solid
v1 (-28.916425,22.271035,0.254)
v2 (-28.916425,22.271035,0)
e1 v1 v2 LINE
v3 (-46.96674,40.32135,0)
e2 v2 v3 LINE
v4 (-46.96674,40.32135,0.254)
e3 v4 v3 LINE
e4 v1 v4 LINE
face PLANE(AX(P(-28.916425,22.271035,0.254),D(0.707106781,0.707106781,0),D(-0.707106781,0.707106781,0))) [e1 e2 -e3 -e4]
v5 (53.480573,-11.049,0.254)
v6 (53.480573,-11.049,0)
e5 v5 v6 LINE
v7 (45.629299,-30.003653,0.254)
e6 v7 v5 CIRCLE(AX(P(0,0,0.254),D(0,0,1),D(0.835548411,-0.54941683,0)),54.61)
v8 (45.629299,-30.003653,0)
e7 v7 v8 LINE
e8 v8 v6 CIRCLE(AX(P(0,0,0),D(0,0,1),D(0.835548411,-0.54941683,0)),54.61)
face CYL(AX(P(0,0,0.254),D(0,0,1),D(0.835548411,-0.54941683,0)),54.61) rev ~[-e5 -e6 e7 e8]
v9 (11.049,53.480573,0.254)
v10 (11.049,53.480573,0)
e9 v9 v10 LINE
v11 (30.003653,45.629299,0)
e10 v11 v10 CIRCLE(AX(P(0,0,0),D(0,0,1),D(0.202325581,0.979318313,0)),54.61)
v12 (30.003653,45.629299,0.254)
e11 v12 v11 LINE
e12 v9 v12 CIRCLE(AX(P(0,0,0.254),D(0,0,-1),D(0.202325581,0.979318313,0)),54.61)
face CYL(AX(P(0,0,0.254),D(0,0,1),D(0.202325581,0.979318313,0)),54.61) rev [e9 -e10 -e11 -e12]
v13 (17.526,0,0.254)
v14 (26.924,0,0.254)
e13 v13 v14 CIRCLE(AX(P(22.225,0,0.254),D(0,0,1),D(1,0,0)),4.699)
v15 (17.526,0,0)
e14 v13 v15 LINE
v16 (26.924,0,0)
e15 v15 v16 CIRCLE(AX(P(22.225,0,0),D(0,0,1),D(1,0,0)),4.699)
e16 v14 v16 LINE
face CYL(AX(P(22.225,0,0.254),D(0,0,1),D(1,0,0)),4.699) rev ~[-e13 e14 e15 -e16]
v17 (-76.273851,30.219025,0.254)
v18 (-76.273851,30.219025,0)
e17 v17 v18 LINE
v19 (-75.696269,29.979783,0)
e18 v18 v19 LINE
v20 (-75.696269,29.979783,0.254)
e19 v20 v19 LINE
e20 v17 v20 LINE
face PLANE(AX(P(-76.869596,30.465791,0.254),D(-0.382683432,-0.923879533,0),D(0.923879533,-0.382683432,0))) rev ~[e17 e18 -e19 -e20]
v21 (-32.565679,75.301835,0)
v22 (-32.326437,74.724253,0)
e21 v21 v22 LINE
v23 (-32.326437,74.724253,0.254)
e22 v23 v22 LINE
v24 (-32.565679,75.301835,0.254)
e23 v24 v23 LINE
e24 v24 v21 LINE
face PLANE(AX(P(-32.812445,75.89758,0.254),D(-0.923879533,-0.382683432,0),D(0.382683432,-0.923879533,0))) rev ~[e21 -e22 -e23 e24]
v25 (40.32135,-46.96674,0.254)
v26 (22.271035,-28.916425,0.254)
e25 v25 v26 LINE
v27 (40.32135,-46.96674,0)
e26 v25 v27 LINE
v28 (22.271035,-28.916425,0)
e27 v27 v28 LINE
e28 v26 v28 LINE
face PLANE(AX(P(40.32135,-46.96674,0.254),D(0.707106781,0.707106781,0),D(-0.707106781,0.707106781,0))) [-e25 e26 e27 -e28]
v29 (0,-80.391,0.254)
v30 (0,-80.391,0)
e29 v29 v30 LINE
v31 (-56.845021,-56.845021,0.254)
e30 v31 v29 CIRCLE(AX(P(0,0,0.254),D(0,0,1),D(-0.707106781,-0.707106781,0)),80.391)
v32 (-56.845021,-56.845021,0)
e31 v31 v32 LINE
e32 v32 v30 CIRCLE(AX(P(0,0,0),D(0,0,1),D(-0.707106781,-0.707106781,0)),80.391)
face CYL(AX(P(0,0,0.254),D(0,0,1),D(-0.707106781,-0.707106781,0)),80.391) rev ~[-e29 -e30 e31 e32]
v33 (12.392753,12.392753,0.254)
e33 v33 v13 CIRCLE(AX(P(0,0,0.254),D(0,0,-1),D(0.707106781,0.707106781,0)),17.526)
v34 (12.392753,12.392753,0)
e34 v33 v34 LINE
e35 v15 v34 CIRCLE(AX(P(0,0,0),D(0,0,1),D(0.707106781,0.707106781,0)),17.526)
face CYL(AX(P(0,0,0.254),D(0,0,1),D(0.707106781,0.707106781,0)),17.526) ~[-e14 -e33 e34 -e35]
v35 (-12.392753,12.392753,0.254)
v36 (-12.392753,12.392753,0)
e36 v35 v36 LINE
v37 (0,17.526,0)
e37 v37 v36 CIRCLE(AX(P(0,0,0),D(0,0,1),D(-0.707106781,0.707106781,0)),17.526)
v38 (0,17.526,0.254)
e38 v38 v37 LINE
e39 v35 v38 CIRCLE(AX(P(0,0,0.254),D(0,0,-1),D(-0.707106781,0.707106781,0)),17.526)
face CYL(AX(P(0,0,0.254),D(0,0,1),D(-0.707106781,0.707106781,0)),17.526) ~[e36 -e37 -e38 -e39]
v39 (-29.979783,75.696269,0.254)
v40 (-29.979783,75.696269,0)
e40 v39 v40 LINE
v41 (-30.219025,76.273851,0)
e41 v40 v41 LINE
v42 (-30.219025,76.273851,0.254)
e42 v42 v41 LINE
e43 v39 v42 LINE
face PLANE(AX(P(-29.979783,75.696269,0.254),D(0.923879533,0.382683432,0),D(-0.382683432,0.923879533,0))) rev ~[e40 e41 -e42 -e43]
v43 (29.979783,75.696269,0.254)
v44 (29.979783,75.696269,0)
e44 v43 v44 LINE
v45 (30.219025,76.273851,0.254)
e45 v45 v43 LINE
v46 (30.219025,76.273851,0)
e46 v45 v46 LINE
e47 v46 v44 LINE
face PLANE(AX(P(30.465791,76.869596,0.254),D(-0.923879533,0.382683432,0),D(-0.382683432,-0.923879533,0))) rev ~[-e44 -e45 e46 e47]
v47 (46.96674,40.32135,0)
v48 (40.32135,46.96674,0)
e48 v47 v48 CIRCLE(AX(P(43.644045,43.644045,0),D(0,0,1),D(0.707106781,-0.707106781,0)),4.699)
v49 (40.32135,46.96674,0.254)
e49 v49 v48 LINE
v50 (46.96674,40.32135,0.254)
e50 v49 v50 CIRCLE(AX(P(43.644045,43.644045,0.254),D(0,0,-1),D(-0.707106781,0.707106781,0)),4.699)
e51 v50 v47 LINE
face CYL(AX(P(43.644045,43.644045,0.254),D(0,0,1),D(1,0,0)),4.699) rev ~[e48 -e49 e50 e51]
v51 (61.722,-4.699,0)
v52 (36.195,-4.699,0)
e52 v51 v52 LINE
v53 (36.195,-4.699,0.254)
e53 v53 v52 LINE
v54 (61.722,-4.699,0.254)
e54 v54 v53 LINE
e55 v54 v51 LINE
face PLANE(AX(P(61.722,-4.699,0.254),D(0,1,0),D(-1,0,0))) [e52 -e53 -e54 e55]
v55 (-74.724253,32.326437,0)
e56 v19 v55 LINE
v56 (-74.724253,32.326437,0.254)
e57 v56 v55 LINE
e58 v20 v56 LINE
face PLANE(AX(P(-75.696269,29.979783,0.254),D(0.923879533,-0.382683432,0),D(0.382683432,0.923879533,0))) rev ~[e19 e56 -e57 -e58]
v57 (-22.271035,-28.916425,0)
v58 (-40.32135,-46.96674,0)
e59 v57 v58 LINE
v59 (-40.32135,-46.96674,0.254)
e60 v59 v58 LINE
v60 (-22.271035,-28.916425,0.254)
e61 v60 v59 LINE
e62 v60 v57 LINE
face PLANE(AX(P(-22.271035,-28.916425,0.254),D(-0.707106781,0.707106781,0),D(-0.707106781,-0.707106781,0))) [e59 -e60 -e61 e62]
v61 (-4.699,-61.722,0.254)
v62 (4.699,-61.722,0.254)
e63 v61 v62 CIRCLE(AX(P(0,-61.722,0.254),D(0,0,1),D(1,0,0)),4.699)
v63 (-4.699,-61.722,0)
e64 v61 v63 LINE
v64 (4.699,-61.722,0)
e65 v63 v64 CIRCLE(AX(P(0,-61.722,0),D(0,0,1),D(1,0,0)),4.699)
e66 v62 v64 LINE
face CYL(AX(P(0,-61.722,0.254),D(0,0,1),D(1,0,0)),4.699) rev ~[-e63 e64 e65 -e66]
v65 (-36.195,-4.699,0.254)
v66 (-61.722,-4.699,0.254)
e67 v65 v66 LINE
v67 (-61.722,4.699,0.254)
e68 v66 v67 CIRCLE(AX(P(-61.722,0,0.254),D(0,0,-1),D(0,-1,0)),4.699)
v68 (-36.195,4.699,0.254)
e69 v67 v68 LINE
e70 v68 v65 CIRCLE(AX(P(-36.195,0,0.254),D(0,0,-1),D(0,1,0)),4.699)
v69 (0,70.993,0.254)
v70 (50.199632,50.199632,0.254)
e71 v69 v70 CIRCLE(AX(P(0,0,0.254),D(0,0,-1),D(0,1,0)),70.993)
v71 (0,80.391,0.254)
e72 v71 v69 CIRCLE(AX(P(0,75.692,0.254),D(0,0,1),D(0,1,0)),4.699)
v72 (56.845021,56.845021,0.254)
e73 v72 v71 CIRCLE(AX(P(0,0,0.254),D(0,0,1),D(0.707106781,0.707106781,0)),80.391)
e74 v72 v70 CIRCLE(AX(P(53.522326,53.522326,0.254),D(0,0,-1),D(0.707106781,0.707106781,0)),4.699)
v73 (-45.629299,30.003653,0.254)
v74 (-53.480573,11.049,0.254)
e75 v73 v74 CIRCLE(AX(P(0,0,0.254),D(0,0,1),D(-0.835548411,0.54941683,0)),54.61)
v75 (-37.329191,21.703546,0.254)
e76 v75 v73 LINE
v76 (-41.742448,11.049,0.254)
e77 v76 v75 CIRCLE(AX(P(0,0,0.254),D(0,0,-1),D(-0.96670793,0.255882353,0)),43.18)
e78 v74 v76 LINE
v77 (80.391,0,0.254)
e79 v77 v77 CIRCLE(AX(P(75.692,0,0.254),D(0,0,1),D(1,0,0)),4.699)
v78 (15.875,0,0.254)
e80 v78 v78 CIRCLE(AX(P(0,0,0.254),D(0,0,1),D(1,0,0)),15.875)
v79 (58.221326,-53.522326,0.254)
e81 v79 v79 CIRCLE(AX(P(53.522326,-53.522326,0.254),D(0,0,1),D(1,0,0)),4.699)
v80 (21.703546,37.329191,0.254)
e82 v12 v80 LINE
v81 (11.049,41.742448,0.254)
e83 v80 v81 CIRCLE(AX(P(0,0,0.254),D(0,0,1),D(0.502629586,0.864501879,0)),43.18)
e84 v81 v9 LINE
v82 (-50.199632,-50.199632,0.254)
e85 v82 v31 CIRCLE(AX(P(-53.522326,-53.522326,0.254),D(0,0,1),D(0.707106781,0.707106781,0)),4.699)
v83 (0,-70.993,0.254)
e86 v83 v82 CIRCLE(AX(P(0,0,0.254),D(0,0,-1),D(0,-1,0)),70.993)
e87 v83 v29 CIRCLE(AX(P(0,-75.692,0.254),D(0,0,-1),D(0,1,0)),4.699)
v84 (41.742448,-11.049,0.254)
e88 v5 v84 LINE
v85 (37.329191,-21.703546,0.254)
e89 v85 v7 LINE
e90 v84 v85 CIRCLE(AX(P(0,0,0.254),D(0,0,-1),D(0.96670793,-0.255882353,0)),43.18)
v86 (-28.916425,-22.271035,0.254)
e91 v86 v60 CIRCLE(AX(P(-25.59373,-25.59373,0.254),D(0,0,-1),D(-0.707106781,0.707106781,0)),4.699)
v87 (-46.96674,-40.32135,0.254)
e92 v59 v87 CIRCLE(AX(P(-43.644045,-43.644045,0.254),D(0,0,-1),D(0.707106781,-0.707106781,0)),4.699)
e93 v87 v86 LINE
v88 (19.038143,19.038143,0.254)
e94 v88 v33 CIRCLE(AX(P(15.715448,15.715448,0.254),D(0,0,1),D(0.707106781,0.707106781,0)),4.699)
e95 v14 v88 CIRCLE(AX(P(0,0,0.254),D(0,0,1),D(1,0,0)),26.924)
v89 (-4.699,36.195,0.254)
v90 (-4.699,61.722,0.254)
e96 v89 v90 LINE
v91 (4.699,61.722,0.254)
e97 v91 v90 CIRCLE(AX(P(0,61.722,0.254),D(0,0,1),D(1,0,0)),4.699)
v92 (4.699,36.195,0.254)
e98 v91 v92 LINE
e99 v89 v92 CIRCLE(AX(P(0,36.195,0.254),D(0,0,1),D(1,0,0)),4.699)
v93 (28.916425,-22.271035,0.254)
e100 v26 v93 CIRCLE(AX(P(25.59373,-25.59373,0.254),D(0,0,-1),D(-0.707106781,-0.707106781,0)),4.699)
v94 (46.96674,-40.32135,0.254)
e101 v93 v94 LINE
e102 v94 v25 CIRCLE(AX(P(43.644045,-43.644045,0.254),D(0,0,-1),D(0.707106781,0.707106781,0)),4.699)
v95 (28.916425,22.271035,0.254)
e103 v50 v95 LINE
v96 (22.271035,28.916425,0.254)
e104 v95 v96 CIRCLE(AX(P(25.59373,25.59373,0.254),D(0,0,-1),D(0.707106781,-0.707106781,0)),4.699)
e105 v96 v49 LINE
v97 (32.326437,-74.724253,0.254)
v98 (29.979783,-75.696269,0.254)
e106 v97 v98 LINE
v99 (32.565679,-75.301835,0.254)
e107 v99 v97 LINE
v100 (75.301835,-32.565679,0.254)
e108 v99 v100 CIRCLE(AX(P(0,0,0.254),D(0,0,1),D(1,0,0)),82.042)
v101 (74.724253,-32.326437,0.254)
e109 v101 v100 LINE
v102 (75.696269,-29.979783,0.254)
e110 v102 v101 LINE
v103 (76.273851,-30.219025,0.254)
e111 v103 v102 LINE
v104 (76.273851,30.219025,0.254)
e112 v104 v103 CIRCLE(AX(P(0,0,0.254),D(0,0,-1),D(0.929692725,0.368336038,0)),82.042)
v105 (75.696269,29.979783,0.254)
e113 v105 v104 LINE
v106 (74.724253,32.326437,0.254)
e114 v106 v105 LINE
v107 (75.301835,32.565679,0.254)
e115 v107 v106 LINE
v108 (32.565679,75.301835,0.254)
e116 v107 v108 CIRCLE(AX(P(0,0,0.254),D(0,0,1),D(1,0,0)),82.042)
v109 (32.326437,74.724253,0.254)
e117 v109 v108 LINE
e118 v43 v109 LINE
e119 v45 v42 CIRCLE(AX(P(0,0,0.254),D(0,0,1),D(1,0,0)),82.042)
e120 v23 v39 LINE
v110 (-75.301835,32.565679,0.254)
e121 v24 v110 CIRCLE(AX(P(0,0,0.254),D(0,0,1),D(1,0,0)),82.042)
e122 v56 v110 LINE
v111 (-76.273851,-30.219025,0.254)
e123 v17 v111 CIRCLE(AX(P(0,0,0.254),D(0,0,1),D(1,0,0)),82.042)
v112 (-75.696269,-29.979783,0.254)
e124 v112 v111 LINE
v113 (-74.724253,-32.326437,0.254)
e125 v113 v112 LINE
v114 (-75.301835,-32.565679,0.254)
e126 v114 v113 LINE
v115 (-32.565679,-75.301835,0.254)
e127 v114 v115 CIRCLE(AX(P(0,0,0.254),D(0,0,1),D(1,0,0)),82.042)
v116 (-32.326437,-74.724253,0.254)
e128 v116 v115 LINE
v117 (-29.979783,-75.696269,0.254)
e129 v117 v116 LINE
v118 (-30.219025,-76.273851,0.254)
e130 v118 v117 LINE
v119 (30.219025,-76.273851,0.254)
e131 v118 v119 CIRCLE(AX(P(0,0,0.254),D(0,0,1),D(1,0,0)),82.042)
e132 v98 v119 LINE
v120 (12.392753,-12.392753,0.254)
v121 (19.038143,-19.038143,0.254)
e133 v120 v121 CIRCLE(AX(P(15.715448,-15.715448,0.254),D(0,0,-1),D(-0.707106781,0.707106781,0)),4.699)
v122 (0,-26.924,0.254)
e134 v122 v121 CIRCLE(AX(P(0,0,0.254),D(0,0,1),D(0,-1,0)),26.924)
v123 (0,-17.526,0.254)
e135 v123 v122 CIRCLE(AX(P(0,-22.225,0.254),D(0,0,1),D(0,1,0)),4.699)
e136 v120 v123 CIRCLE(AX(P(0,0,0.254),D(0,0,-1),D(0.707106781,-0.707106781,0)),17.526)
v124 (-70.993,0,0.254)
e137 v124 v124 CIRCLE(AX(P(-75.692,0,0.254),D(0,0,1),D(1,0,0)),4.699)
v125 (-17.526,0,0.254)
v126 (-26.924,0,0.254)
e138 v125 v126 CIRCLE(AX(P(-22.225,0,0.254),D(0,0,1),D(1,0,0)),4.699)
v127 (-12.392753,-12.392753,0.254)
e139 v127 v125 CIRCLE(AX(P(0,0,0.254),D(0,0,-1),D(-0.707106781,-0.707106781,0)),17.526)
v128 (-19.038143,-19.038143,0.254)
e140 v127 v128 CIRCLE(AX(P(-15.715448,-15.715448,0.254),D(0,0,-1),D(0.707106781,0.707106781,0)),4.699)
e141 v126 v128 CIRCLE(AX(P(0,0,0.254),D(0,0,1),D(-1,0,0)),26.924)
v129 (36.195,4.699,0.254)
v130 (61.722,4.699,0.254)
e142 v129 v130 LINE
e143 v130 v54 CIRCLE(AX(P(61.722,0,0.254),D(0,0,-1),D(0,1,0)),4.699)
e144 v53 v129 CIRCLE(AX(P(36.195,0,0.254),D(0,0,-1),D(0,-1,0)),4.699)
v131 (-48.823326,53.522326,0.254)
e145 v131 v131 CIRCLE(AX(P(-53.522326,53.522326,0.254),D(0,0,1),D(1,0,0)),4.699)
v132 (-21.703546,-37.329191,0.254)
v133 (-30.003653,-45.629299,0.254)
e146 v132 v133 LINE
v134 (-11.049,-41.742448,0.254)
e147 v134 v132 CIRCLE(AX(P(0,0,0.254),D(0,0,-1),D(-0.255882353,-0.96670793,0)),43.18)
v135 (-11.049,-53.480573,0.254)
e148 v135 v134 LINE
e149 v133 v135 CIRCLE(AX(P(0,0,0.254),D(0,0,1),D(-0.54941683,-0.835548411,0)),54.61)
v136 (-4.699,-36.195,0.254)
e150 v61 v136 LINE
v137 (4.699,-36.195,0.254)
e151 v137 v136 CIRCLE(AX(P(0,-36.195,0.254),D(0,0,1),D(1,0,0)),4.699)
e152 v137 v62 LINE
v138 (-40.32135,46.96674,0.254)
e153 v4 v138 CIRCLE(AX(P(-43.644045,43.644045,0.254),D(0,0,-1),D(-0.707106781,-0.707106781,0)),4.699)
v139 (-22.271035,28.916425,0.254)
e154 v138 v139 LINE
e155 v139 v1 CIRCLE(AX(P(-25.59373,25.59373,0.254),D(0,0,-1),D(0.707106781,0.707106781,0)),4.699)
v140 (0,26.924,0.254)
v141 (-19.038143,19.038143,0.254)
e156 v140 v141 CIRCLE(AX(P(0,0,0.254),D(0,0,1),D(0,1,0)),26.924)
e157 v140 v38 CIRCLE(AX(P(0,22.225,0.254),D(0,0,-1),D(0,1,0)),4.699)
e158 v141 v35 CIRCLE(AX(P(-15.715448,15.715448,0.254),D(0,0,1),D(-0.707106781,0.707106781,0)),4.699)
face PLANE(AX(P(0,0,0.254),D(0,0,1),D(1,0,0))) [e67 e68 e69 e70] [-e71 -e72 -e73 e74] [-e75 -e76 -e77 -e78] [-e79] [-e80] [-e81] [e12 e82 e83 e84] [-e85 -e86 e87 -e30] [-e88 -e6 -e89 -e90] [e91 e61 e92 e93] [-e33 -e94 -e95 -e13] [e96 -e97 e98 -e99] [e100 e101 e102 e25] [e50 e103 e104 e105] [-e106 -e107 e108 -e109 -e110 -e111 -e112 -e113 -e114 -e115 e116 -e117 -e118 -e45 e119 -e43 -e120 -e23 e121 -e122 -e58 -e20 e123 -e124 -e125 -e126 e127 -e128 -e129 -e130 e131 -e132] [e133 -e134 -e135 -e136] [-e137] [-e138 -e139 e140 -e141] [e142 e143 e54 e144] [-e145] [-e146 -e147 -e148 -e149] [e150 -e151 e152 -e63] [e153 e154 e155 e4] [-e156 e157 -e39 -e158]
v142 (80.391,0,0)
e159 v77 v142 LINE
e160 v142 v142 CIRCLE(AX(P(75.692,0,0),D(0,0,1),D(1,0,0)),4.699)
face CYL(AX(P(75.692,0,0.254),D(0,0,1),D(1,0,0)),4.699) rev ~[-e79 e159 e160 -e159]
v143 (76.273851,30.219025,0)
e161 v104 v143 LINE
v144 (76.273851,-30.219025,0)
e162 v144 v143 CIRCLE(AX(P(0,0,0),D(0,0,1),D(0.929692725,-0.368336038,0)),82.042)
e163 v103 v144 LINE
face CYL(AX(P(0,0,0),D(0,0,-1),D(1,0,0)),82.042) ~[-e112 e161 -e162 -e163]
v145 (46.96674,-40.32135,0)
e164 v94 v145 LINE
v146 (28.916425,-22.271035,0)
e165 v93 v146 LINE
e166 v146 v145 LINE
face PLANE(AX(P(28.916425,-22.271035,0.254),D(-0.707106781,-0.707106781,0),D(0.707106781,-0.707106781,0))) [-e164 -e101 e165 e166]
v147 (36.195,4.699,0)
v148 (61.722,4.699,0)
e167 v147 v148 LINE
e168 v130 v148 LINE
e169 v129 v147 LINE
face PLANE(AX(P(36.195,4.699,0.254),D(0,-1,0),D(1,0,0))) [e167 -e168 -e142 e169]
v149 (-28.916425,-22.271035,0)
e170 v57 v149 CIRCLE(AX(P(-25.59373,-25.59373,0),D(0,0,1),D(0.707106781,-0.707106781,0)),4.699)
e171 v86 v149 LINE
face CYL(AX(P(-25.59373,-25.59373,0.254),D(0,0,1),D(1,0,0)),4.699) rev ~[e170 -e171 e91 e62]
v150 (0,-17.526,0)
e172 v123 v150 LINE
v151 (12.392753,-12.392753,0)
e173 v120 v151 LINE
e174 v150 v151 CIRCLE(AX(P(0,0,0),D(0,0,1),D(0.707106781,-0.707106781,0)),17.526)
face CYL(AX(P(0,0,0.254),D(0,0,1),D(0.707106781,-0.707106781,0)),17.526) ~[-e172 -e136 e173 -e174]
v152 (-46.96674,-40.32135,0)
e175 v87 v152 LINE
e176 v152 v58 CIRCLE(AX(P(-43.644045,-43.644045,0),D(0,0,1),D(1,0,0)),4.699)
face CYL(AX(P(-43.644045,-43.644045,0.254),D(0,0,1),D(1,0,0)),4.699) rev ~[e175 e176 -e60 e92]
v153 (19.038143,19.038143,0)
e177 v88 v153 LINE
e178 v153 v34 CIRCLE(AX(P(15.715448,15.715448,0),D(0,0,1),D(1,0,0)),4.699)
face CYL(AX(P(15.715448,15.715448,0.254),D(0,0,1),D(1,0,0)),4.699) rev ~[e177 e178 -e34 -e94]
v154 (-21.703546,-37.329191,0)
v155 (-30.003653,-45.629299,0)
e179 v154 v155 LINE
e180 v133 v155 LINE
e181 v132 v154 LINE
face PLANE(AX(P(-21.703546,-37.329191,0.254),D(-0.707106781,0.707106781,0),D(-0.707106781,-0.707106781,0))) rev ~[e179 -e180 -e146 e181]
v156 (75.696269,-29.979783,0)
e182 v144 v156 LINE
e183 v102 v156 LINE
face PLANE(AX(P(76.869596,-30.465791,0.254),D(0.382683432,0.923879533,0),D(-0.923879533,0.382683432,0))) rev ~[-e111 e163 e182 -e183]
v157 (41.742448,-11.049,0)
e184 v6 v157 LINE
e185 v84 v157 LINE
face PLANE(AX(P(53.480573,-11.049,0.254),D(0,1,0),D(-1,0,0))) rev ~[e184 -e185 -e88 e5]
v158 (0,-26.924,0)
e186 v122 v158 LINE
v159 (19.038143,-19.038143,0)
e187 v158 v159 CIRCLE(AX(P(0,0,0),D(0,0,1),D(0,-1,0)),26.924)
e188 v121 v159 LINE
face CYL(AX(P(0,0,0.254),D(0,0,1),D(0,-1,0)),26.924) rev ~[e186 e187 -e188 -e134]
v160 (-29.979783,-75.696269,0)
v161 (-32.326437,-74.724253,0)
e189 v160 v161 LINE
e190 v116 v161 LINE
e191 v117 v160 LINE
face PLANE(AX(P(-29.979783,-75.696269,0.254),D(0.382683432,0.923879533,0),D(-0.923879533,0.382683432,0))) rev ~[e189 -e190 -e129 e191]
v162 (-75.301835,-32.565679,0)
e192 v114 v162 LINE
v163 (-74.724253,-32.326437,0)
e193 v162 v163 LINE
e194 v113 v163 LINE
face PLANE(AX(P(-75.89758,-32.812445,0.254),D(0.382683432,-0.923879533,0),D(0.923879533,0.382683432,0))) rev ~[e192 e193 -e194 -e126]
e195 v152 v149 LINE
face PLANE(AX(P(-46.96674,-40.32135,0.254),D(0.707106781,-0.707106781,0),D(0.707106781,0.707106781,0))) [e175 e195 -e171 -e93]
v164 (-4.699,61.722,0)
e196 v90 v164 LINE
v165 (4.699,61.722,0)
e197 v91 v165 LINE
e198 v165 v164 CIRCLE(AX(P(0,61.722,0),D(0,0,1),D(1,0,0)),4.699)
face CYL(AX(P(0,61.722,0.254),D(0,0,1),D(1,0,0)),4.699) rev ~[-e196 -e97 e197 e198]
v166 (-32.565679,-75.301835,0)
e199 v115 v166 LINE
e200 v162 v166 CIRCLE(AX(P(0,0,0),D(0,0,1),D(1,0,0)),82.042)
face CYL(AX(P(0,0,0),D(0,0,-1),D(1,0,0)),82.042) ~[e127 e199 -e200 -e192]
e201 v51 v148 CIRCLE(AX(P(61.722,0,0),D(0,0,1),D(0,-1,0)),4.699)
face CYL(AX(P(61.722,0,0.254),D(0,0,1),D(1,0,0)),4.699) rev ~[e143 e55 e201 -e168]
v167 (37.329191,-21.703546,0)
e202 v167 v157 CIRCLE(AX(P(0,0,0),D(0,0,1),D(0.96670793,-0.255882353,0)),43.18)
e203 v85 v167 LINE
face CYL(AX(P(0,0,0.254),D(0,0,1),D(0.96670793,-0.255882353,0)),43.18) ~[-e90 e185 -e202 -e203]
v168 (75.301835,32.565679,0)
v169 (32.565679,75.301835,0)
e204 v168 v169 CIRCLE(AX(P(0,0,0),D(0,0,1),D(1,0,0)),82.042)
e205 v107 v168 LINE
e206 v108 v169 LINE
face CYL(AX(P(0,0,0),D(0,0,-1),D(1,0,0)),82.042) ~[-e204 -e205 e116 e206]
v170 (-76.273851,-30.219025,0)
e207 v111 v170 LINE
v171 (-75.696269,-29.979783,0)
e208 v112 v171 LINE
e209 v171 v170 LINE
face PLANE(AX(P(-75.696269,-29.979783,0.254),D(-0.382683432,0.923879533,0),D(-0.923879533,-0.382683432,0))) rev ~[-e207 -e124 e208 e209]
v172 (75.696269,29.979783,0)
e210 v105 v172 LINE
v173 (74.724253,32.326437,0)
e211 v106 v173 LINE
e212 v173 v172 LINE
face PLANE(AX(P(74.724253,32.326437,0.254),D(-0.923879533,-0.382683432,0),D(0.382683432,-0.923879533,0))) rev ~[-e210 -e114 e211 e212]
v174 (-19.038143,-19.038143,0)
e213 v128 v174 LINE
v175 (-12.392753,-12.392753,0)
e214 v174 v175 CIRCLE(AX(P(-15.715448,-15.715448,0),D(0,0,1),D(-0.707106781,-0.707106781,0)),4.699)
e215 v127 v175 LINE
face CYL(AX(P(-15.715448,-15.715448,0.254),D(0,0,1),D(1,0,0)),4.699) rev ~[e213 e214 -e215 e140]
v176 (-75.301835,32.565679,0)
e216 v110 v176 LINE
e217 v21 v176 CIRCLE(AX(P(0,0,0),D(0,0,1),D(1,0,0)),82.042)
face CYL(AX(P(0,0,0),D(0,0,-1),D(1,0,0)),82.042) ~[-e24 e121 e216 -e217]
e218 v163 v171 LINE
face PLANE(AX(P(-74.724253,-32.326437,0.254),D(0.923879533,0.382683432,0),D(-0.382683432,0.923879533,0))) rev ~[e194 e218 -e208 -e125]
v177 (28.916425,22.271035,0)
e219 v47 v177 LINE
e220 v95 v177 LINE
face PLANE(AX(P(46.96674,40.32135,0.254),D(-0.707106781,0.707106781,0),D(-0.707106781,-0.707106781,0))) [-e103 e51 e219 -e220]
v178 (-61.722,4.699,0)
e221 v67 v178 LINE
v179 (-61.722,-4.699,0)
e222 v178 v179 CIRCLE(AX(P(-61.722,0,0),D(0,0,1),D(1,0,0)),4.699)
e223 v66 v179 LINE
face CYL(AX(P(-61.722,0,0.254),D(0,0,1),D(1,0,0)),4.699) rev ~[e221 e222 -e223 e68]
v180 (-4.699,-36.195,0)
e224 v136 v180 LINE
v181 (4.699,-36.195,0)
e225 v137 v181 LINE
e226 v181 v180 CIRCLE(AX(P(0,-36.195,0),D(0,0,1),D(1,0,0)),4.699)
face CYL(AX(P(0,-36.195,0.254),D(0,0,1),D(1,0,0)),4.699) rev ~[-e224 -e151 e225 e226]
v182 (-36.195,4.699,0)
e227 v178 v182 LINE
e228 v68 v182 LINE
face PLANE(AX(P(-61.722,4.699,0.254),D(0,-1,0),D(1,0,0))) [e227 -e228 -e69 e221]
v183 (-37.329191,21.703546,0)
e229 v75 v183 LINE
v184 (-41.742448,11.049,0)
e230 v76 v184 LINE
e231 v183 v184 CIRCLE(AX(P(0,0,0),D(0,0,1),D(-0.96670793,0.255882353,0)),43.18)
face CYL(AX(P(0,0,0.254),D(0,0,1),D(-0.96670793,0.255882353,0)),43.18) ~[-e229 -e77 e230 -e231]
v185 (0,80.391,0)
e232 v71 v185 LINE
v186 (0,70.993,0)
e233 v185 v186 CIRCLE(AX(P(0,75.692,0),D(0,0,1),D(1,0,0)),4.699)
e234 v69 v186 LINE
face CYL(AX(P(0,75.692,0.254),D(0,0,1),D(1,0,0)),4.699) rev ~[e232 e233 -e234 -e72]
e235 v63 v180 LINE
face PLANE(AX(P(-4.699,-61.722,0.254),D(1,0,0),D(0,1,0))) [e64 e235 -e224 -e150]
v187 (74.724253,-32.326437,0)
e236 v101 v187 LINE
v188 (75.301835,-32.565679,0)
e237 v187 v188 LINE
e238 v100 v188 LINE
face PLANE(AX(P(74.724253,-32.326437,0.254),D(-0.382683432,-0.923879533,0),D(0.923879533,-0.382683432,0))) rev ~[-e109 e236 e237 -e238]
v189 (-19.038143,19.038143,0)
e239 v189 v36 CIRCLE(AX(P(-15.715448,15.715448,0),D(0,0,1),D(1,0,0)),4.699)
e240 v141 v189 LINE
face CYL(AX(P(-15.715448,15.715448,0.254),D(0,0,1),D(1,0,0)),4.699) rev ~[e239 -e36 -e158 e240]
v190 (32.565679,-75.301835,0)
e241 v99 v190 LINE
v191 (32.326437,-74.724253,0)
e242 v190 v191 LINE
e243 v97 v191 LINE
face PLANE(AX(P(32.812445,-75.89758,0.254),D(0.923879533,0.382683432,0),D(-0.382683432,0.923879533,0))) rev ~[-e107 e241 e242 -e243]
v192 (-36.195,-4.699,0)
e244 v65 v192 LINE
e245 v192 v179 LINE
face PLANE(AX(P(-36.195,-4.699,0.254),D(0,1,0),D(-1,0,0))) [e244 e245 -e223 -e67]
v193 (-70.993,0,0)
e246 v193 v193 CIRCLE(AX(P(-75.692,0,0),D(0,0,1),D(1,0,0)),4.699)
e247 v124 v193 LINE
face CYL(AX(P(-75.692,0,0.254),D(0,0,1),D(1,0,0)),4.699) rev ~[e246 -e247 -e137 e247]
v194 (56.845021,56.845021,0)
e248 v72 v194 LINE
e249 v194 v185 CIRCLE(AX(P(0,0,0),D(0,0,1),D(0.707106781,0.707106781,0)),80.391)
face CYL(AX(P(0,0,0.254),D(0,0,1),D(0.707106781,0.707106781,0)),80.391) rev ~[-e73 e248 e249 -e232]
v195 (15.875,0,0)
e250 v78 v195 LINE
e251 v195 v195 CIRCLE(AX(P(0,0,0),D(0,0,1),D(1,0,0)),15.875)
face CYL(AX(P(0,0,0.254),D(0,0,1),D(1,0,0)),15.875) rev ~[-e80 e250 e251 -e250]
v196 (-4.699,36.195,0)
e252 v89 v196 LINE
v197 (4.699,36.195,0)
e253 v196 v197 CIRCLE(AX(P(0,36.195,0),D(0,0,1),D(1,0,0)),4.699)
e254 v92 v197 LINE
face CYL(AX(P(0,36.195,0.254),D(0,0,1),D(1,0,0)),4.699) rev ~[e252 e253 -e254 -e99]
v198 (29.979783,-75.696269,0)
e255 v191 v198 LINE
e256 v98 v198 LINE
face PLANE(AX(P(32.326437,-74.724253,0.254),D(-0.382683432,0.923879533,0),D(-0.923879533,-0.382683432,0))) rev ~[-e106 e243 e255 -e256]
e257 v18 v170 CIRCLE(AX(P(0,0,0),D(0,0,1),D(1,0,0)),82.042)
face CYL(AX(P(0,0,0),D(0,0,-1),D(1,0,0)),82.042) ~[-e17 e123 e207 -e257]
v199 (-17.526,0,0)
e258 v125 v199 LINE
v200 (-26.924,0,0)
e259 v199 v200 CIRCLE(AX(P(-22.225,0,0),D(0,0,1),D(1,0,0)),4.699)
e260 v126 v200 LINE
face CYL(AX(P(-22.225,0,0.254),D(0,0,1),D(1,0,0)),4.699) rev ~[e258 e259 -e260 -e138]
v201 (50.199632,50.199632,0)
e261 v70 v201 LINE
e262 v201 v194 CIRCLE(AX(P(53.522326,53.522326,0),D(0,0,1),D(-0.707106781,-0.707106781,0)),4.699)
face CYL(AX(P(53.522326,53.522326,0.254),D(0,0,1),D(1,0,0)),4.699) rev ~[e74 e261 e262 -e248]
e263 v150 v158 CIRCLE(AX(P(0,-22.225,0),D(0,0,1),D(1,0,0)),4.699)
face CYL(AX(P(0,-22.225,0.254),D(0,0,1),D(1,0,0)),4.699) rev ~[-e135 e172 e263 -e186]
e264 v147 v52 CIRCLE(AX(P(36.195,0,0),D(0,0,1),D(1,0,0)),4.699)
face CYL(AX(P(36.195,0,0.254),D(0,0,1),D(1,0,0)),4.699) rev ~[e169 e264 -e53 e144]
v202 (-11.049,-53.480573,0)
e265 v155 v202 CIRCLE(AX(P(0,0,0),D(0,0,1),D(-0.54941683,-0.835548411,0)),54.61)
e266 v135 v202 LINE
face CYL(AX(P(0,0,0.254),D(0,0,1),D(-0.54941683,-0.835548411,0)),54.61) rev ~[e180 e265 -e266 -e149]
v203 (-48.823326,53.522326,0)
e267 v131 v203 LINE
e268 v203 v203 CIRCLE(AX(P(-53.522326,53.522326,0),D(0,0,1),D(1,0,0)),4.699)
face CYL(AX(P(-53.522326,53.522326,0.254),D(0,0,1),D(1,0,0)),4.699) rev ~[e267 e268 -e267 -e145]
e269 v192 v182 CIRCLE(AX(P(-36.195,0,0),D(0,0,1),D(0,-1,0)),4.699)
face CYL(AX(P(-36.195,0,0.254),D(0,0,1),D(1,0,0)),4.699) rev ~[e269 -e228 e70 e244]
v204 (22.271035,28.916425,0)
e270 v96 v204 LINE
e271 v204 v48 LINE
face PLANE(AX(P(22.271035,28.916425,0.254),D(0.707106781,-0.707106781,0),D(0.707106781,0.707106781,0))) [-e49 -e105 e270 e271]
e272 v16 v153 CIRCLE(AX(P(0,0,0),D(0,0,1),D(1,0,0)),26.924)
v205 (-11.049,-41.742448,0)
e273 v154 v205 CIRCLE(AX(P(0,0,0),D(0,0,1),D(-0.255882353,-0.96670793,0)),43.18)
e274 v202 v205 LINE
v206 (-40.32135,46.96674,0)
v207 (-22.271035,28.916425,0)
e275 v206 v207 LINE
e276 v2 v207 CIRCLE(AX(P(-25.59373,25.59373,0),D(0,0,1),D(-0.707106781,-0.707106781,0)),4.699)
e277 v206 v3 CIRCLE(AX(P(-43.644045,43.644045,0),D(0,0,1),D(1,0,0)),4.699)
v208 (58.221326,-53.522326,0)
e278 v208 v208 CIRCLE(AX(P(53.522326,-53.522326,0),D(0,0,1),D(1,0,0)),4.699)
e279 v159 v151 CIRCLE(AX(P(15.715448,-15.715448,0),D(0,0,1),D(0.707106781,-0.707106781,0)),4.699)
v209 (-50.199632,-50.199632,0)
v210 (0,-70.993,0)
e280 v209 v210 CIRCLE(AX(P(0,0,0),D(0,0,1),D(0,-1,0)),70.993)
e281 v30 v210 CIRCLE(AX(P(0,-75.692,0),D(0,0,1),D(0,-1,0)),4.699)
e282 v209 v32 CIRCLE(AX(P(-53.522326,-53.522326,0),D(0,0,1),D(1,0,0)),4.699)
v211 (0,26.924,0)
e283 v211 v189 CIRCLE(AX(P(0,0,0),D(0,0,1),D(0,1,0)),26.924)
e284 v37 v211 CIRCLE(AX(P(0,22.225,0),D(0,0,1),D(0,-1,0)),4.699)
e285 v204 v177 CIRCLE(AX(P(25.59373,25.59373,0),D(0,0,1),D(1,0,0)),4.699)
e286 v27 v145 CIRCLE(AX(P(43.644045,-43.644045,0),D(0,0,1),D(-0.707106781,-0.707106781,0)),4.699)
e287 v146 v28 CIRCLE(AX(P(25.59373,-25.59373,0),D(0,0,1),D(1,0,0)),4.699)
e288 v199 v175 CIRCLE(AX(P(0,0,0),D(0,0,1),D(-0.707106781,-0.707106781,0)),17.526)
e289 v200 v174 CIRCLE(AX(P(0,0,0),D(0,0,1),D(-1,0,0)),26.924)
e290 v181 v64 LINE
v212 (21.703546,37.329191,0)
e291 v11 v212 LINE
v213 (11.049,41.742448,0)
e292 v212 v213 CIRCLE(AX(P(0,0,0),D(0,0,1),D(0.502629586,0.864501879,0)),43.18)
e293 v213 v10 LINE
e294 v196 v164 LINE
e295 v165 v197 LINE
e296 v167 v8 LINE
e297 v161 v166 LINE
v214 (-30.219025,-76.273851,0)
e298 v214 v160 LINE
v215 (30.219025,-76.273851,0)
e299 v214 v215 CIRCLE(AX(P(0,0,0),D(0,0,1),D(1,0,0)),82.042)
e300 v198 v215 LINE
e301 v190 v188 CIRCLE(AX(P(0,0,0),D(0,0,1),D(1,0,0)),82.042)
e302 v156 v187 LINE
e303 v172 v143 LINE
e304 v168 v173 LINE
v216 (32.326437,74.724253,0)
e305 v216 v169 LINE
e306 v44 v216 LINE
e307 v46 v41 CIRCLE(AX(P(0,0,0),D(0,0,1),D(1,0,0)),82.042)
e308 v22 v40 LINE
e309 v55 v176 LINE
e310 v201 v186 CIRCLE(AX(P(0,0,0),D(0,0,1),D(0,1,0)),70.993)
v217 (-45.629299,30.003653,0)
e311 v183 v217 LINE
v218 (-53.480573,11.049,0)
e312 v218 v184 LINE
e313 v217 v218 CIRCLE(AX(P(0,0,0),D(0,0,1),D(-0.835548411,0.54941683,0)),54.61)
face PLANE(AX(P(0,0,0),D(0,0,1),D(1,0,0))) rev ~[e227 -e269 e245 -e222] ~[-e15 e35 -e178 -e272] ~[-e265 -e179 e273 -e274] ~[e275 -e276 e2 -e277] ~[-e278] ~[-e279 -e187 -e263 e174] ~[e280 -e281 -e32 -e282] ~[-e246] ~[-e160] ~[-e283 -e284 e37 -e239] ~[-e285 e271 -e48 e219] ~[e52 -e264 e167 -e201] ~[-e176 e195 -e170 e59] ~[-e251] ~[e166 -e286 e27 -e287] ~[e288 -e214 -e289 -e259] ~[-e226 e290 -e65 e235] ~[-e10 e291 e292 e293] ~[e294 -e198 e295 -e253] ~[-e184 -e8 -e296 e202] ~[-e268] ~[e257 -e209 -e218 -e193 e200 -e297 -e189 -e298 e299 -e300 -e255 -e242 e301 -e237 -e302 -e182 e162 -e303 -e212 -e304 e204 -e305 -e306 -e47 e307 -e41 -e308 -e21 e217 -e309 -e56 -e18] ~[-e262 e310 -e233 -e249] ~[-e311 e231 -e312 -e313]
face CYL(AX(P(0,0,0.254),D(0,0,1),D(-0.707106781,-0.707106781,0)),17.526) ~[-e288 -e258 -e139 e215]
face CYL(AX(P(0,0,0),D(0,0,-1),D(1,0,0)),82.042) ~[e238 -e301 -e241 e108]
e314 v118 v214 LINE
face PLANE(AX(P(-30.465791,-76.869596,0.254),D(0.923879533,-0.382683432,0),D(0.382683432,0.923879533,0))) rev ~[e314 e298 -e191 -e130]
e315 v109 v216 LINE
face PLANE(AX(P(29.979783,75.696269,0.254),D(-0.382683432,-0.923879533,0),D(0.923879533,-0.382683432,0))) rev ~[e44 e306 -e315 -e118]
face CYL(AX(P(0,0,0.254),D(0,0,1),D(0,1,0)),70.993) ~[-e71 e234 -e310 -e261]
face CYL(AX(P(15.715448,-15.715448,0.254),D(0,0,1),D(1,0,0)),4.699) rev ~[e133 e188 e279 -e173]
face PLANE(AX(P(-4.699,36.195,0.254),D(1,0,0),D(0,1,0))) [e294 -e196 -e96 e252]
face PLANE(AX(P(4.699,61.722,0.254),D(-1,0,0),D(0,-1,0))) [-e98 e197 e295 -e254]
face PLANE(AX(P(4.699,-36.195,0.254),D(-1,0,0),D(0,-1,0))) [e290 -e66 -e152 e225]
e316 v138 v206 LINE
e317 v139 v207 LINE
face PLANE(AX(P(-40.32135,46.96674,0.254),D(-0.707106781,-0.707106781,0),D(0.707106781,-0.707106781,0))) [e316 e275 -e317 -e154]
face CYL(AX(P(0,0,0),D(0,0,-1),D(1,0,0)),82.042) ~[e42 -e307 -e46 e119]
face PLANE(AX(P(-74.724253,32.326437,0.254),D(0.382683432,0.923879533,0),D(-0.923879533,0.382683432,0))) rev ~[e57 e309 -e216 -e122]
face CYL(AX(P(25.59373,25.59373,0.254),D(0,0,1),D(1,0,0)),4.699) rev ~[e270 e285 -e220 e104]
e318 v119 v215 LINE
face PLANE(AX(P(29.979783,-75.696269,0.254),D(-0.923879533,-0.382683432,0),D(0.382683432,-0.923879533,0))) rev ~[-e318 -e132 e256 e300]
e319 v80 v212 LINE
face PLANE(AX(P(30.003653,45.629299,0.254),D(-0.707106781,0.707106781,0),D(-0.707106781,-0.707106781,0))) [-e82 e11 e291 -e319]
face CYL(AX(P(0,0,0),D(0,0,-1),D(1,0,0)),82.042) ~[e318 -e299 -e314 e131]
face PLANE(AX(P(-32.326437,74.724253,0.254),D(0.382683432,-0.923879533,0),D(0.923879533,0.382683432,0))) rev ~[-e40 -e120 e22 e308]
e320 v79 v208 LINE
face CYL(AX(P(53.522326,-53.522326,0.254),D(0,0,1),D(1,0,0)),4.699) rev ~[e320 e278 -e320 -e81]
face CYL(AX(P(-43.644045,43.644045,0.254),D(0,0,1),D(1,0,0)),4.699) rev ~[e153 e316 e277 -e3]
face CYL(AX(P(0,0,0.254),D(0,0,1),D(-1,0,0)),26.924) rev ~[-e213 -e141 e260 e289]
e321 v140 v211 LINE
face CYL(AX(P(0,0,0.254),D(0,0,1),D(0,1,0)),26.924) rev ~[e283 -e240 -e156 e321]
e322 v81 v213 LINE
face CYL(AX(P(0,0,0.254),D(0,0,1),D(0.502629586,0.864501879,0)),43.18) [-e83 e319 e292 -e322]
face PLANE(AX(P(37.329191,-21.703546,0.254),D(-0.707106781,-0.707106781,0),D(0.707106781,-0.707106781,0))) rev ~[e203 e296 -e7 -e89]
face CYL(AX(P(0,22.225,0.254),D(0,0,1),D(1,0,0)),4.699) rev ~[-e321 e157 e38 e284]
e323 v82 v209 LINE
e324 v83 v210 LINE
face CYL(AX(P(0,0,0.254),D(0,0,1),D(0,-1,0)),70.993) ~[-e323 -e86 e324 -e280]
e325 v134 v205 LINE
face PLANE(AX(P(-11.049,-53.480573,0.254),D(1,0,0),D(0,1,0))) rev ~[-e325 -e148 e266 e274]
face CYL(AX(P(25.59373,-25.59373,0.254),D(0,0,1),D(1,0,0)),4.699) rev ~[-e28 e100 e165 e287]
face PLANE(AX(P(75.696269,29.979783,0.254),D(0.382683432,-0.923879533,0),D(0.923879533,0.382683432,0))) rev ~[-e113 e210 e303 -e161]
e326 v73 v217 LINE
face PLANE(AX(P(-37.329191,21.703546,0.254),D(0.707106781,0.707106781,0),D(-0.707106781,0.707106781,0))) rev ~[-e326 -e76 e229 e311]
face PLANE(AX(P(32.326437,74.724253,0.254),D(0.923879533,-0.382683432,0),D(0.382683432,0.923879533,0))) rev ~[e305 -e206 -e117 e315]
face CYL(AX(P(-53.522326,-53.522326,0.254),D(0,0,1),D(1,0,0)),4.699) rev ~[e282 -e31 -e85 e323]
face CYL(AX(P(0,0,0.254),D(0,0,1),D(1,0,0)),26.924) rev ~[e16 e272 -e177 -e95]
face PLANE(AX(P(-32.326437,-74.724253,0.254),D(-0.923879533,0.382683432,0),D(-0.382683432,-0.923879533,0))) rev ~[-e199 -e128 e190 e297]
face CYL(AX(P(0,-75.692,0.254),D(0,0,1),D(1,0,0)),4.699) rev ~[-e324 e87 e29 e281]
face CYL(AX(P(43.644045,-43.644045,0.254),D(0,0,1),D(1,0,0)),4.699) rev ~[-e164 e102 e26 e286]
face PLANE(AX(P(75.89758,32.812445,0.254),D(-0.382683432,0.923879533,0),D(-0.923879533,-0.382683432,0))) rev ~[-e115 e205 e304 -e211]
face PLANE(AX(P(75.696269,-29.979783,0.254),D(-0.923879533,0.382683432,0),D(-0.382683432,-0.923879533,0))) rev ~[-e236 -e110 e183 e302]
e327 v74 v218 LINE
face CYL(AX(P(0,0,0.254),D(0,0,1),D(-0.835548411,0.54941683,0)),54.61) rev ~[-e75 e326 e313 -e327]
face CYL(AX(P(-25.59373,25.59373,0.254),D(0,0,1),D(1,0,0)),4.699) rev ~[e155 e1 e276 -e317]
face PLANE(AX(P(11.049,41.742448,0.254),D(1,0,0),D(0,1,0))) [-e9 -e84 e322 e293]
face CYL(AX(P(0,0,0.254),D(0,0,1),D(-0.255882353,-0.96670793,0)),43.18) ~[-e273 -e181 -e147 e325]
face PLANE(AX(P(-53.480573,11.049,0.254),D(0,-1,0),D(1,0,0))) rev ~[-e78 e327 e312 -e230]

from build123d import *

# Parameters (mm, degrees)
SKETCH4_R           = 82.042
BOSS_EXTRUDE2_DEPTH = 0.254
SKETCH5_R           = 15.875
CUT_EXTRUDE5_DEPTH  = 1.254
CUT_EXTRUDE11_DEPTH = 1.254
SKETCH9_R           = 4.699
CUT_EXTRUDE12_DEPTH = 1.254
CUT_EXTRUDE14_DEPTH = 1.254


with BuildPart() as part:
    # Sketch4 → Boss-Extrude2 (new body)
    with BuildSketch(Plane.XY):
        Circle(SKETCH4_R)
    extrude(amount=BOSS_EXTRUDE2_DEPTH)

    # Sketch5 → Cut-Extrude5 (cut, through all)
    with BuildSketch(Plane.XY.offset(0.254)):
        Circle(SKETCH5_R)
    extrude(amount=-CUT_EXTRUDE5_DEPTH, mode=Mode.SUBTRACT)

    # Sketch8 → Cut-Extrude11 (cut, through all)
    with BuildSketch(Plane.XY.offset(0.254)):
        Polygon((76.869596069, 30.465791131), (75.89758015, 32.812445144), (74.724253144, 32.326437185), (75.696269062, 29.979783172), align=None)
        Polygon((-30.465791131, 76.869596069), (-32.812445144, 75.89758015), (-32.326437185, 74.724253144), (-29.979783172, 75.696269062), align=None)
        Polygon((-75.89758015, 32.812445144), (-76.869596069, 30.465791131), (-75.696269062, 29.979783172), (-74.724253144, 32.326437185), align=None)
        Polygon((-76.869596069, -30.465791131), (-75.89758015, -32.812445144), (-74.724253144, -32.326437185), (-75.696269062, -29.979783172), align=None)
        Polygon((-32.812445144, -75.89758015), (-30.465791131, -76.869596069), (-29.979783172, -75.696269062), (-32.326437185, -74.724253144), align=None)
        Polygon((30.465791131, -76.869596069), (32.812445144, -75.89758015), (32.326437185, -74.724253144), (29.979783172, -75.696269062), align=None)
        Polygon((75.89758015, -32.812445144), (76.869596069, -30.465791131), (75.696269062, -29.979783172), (74.724253144, -32.326437185), align=None)
        Polygon((32.812445144, 75.89758015), (30.465791131, 76.869596069), (29.979783172, 75.696269062), (32.326437185, 74.724253144), align=None)
    extrude(amount=-CUT_EXTRUDE11_DEPTH, mode=Mode.SUBTRACT)

    # Sketch9 → Cut-Extrude12 (cut, through all)
    with BuildSketch(Plane.XY.offset(0.254)):
        with Locations((22.225, 0)):
            Circle(SKETCH9_R)
        with Locations((36.195, 0)):
            Circle(SKETCH9_R)
        with Locations((61.722, 0)):
            Circle(SKETCH9_R)
        with Locations((75.692, 0)):
            Circle(SKETCH9_R)
        with Locations((15.715448212, -15.715448212)):
            Circle(SKETCH9_R)
        with Locations((25.593729945, -25.593729945)):
            Circle(SKETCH9_R)
        with Locations((43.644044748, -43.644044748)):
            Circle(SKETCH9_R)
        with Locations((53.522326482, -53.522326482)):
            Circle(SKETCH9_R)
        with Locations((0, -22.225)):
            Circle(SKETCH9_R)
        with Locations((0, -36.195)):
            Circle(SKETCH9_R)
        with Locations((0, -61.722)):
            Circle(SKETCH9_R)
        with Locations((0, -75.692)):
            Circle(SKETCH9_R)
        with Locations((-15.715448212, -15.715448212)):
            Circle(SKETCH9_R)
        with Locations((-25.593729945, -25.593729945)):
            Circle(SKETCH9_R)
        with Locations((-43.644044748, -43.644044748)):
            Circle(SKETCH9_R)
        with Locations((-53.522326482, -53.522326482)):
            Circle(SKETCH9_R)
        with Locations((-22.225, 0)):
            Circle(SKETCH9_R)
        with Locations((-36.195, 0)):
            Circle(SKETCH9_R)
        with Locations((-61.722, 0)):
            Circle(SKETCH9_R)
        with Locations((-75.692, 0)):
            Circle(SKETCH9_R)
        with Locations((-15.715448212, 15.715448212)):
            Circle(SKETCH9_R)
        with Locations((-25.593729945, 25.593729945)):
            Circle(SKETCH9_R)
        with Locations((-43.644044748, 43.644044748)):
            Circle(SKETCH9_R)
        with Locations((-53.522326482, 53.522326482)):
            Circle(SKETCH9_R)
        with Locations((0, 22.225)):
            Circle(SKETCH9_R)
        with Locations((0, 36.195)):
            Circle(SKETCH9_R)
        with Locations((0, 61.722)):
            Circle(SKETCH9_R)
        with Locations((0, 75.692)):
            Circle(SKETCH9_R)
        with Locations((15.715448212, 15.715448212)):
            Circle(SKETCH9_R)
        with Locations((25.593729945, 25.593729945)):
            Circle(SKETCH9_R)
        with Locations((43.644044748, 43.644044748)):
            Circle(SKETCH9_R)
        with Locations((53.522326482, 53.522326482)):
            Circle(SKETCH9_R)
    extrude(amount=-CUT_EXTRUDE12_DEPTH, mode=Mode.SUBTRACT)

    # Sketch11 → Cut-Extrude14 (cut, through all)
    with BuildSketch(Plane.XY.offset(0.254)):
        with BuildLine():
            Line((36.195, 4.699), (61.722, 4.699))
            ThreePointArc((61.722, 4.699), (66.421, 0), (61.722, -4.699))
            Line((61.722, -4.699), (36.195, -4.699))
            ThreePointArc((36.195, -4.699), (31.496, 0), (36.195, 4.699))
        make_face()
        with BuildLine():
            Line((28.91642471, -22.27103518), (46.966739513, -40.321349984))
            ThreePointArc((46.966739513, -40.321349984), (46.966739513, -46.966739513), (40.321349984, -46.966739513))
            Line((40.321349984, -46.966739513), (22.27103518, -28.91642471))
            ThreePointArc((22.27103518, -28.91642471), (22.27103518, -22.27103518), (28.91642471, -22.27103518))
        make_face()
        with BuildLine():
            Line((4.699, -36.195), (4.699, -61.722))
            ThreePointArc((4.699, -61.722), (0, -66.421), (-4.699, -61.722))
            Line((-4.699, -61.722), (-4.699, -36.195))
            ThreePointArc((-4.699, -36.195), (0, -31.496), (4.699, -36.195))
        make_face()
        with BuildLine():
            Line((-22.27103518, -28.91642471), (-40.321349984, -46.966739513))
            ThreePointArc((-40.321349984, -46.966739513), (-46.966739513, -46.966739513), (-46.966739513, -40.321349984))
            Line((-46.966739513, -40.321349984), (-28.91642471, -22.27103518))
            ThreePointArc((-28.91642471, -22.27103518), (-22.27103518, -22.27103518), (-22.27103518, -28.91642471))
        make_face()
        with BuildLine():
            Line((-36.195, -4.699), (-61.722, -4.699))
            ThreePointArc((-61.722, -4.699), (-66.421, 0), (-61.722, 4.699))
            Line((-61.722, 4.699), (-36.195, 4.699))
            ThreePointArc((-36.195, 4.699), (-31.496, 0), (-36.195, -4.699))
        make_face()
        with BuildLine():
            Line((-28.91642471, 22.27103518), (-46.966739513, 40.321349984))
            ThreePointArc((-46.966739513, 40.321349984), (-46.966739513, 46.966739513), (-40.321349984, 46.966739513))
            Line((-40.321349984, 46.966739513), (-22.27103518, 28.91642471))
            ThreePointArc((-22.27103518, 28.91642471), (-22.27103518, 22.27103518), (-28.91642471, 22.27103518))
        make_face()
        with BuildLine():
            Line((-4.699, 36.195), (-4.699, 61.722))
            ThreePointArc((-4.699, 61.722), (0, 66.421), (4.699, 61.722))
            Line((4.699, 61.722), (4.699, 36.195))
            ThreePointArc((4.699, 36.195), (0, 31.496), (-4.699, 36.195))
        make_face()
        with BuildLine():
            Line((22.27103518, 28.91642471), (40.321349984, 46.966739513))
            ThreePointArc((40.321349984, 46.966739513), (46.966739513, 46.966739513), (46.966739513, 40.321349984))
            Line((46.966739513, 40.321349984), (28.91642471, 22.27103518))
            ThreePointArc((28.91642471, 22.27103518), (22.27103518, 22.27103518), (22.27103518, 28.91642471))
        make_face()
        with BuildLine():
            Line((11.049, 41.742448407), (11.049, 53.480573099))
            ThreePointArc((11.049, 53.480573099), (20.898342241, 50.45306127), (30.003653075, 45.629298725))
            Line((30.003653075, 45.629298725), (21.703545506, 37.329191157))
            ThreePointArc((21.703545506, 37.329191157), (16.52427061, 39.893118214), (11.049, 41.742448407))
        make_face()
        with BuildLine():
            Line((37.329191157, -21.703545506), (45.629298725, -30.003653075))
            ThreePointArc((45.629298725, -30.003653075), (50.45306127, -20.898342241), (53.480573099, -11.049))
            Line((53.480573099, -11.049), (41.742448407, -11.049))
            ThreePointArc((41.742448407, -11.049), (39.893118214, -16.52427061), (37.329191157, -21.703545506))
        make_face()
        with BuildLine():
            Line((-21.703545506, -37.329191157), (-30.003653075, -45.629298725))
            ThreePointArc((-30.003653075, -45.629298725), (-20.898342241, -50.45306127), (-11.049, -53.480573099))
            Line((-11.049, -53.480573099), (-11.049, -41.742448407))
            ThreePointArc((-11.049, -41.742448407), (-16.52427061, -39.893118214), (-21.703545506, -37.329191157))
        make_face()
        with BuildLine():
            Line((-37.329191157, 21.703545506), (-45.629298725, 30.003653075))
            ThreePointArc((-45.629298725, 30.003653075), (-50.45306127, 20.898342241), (-53.480573099, 11.049))
            Line((-53.480573099, 11.049), (-41.742448407, 11.049))
            ThreePointArc((-41.742448407, 11.049), (-39.893118214, 16.52427061), (-37.329191157, 21.703545506))
        make_face()
        with BuildLine():
            ThreePointArc((26.924, 0), (24.874532533, 10.303368733), (19.038142977, 19.038142977))
            ThreePointArc((19.038142977, 19.038142977), (12.392753447, 19.038142977), (12.392753447, 12.392753447))
            ThreePointArc((12.392753447, 12.392753447), (16.191912687, 6.706909836), (17.526, 0))
            ThreePointArc((17.526, 0), (22.225, -4.699), (26.924, 0))
        make_face()
        with BuildLine():
            ThreePointArc((0, -26.924), (10.303368733, -24.874532533), (19.038142977, -19.038142977))
            ThreePointArc((19.038142977, -19.038142977), (19.038142977, -12.392753447), (12.392753447, -12.392753447))
            ThreePointArc((12.392753447, -12.392753447), (6.706909836, -16.191912687), (0, -17.526))
            ThreePointArc((0, -17.526), (-4.699, -22.225), (0, -26.924))
        make_face()
        with BuildLine():
            ThreePointArc((-26.924, 0), (-24.874532533, -10.303368733), (-19.038142977, -19.038142977))
            ThreePointArc((-19.038142977, -19.038142977), (-12.392753447, -19.038142977), (-12.392753447, -12.392753447))
            ThreePointArc((-12.392753447, -12.392753447), (-16.191912687, -6.706909836), (-17.526, 0))
            ThreePointArc((-17.526, 0), (-22.225, 4.699), (-26.924, 0))
        make_face()
        with BuildLine():
            ThreePointArc((0, 26.924), (-10.303368733, 24.874532533), (-19.038142977, 19.038142977))
            ThreePointArc((-19.038142977, 19.038142977), (-19.038142977, 12.392753447), (-12.392753447, 12.392753447))
            ThreePointArc((-12.392753447, 12.392753447), (-6.706909836, 16.191912687), (0, 17.526))
            ThreePointArc((0, 17.526), (4.699, 22.225), (0, 26.924))
        make_face()
        with BuildLine():
            ThreePointArc((56.845021246, 56.845021246), (30.764303811, 74.271599498), (0, 80.391))
            ThreePointArc((0, 80.391), (-4.699, 75.692), (0, 70.993))
            ThreePointArc((0, 70.993), (27.167844914, 65.588979652), (50.199631717, 50.199631717))
            ThreePointArc((50.199631717, 50.199631717), (56.845021246, 50.199631717), (56.845021246, 56.845021246))
        make_face()
        with BuildLine():
            ThreePointArc((-56.845021246, -56.845021246), (-30.764303811, -74.271599498), (0, -80.391))
            ThreePointArc((0, -80.391), (4.699, -75.692), (0, -70.993))
            ThreePointArc((0, -70.993), (-27.167844914, -65.588979652), (-50.199631717, -50.199631717))
            ThreePointArc((-50.199631717, -50.199631717), (-56.845021246, -50.199631717), (-56.845021246, -56.845021246))
        make_face()
    extrude(amount=-CUT_EXTRUDE14_DEPTH, mode=Mode.SUBTRACT)


solid = part.part
